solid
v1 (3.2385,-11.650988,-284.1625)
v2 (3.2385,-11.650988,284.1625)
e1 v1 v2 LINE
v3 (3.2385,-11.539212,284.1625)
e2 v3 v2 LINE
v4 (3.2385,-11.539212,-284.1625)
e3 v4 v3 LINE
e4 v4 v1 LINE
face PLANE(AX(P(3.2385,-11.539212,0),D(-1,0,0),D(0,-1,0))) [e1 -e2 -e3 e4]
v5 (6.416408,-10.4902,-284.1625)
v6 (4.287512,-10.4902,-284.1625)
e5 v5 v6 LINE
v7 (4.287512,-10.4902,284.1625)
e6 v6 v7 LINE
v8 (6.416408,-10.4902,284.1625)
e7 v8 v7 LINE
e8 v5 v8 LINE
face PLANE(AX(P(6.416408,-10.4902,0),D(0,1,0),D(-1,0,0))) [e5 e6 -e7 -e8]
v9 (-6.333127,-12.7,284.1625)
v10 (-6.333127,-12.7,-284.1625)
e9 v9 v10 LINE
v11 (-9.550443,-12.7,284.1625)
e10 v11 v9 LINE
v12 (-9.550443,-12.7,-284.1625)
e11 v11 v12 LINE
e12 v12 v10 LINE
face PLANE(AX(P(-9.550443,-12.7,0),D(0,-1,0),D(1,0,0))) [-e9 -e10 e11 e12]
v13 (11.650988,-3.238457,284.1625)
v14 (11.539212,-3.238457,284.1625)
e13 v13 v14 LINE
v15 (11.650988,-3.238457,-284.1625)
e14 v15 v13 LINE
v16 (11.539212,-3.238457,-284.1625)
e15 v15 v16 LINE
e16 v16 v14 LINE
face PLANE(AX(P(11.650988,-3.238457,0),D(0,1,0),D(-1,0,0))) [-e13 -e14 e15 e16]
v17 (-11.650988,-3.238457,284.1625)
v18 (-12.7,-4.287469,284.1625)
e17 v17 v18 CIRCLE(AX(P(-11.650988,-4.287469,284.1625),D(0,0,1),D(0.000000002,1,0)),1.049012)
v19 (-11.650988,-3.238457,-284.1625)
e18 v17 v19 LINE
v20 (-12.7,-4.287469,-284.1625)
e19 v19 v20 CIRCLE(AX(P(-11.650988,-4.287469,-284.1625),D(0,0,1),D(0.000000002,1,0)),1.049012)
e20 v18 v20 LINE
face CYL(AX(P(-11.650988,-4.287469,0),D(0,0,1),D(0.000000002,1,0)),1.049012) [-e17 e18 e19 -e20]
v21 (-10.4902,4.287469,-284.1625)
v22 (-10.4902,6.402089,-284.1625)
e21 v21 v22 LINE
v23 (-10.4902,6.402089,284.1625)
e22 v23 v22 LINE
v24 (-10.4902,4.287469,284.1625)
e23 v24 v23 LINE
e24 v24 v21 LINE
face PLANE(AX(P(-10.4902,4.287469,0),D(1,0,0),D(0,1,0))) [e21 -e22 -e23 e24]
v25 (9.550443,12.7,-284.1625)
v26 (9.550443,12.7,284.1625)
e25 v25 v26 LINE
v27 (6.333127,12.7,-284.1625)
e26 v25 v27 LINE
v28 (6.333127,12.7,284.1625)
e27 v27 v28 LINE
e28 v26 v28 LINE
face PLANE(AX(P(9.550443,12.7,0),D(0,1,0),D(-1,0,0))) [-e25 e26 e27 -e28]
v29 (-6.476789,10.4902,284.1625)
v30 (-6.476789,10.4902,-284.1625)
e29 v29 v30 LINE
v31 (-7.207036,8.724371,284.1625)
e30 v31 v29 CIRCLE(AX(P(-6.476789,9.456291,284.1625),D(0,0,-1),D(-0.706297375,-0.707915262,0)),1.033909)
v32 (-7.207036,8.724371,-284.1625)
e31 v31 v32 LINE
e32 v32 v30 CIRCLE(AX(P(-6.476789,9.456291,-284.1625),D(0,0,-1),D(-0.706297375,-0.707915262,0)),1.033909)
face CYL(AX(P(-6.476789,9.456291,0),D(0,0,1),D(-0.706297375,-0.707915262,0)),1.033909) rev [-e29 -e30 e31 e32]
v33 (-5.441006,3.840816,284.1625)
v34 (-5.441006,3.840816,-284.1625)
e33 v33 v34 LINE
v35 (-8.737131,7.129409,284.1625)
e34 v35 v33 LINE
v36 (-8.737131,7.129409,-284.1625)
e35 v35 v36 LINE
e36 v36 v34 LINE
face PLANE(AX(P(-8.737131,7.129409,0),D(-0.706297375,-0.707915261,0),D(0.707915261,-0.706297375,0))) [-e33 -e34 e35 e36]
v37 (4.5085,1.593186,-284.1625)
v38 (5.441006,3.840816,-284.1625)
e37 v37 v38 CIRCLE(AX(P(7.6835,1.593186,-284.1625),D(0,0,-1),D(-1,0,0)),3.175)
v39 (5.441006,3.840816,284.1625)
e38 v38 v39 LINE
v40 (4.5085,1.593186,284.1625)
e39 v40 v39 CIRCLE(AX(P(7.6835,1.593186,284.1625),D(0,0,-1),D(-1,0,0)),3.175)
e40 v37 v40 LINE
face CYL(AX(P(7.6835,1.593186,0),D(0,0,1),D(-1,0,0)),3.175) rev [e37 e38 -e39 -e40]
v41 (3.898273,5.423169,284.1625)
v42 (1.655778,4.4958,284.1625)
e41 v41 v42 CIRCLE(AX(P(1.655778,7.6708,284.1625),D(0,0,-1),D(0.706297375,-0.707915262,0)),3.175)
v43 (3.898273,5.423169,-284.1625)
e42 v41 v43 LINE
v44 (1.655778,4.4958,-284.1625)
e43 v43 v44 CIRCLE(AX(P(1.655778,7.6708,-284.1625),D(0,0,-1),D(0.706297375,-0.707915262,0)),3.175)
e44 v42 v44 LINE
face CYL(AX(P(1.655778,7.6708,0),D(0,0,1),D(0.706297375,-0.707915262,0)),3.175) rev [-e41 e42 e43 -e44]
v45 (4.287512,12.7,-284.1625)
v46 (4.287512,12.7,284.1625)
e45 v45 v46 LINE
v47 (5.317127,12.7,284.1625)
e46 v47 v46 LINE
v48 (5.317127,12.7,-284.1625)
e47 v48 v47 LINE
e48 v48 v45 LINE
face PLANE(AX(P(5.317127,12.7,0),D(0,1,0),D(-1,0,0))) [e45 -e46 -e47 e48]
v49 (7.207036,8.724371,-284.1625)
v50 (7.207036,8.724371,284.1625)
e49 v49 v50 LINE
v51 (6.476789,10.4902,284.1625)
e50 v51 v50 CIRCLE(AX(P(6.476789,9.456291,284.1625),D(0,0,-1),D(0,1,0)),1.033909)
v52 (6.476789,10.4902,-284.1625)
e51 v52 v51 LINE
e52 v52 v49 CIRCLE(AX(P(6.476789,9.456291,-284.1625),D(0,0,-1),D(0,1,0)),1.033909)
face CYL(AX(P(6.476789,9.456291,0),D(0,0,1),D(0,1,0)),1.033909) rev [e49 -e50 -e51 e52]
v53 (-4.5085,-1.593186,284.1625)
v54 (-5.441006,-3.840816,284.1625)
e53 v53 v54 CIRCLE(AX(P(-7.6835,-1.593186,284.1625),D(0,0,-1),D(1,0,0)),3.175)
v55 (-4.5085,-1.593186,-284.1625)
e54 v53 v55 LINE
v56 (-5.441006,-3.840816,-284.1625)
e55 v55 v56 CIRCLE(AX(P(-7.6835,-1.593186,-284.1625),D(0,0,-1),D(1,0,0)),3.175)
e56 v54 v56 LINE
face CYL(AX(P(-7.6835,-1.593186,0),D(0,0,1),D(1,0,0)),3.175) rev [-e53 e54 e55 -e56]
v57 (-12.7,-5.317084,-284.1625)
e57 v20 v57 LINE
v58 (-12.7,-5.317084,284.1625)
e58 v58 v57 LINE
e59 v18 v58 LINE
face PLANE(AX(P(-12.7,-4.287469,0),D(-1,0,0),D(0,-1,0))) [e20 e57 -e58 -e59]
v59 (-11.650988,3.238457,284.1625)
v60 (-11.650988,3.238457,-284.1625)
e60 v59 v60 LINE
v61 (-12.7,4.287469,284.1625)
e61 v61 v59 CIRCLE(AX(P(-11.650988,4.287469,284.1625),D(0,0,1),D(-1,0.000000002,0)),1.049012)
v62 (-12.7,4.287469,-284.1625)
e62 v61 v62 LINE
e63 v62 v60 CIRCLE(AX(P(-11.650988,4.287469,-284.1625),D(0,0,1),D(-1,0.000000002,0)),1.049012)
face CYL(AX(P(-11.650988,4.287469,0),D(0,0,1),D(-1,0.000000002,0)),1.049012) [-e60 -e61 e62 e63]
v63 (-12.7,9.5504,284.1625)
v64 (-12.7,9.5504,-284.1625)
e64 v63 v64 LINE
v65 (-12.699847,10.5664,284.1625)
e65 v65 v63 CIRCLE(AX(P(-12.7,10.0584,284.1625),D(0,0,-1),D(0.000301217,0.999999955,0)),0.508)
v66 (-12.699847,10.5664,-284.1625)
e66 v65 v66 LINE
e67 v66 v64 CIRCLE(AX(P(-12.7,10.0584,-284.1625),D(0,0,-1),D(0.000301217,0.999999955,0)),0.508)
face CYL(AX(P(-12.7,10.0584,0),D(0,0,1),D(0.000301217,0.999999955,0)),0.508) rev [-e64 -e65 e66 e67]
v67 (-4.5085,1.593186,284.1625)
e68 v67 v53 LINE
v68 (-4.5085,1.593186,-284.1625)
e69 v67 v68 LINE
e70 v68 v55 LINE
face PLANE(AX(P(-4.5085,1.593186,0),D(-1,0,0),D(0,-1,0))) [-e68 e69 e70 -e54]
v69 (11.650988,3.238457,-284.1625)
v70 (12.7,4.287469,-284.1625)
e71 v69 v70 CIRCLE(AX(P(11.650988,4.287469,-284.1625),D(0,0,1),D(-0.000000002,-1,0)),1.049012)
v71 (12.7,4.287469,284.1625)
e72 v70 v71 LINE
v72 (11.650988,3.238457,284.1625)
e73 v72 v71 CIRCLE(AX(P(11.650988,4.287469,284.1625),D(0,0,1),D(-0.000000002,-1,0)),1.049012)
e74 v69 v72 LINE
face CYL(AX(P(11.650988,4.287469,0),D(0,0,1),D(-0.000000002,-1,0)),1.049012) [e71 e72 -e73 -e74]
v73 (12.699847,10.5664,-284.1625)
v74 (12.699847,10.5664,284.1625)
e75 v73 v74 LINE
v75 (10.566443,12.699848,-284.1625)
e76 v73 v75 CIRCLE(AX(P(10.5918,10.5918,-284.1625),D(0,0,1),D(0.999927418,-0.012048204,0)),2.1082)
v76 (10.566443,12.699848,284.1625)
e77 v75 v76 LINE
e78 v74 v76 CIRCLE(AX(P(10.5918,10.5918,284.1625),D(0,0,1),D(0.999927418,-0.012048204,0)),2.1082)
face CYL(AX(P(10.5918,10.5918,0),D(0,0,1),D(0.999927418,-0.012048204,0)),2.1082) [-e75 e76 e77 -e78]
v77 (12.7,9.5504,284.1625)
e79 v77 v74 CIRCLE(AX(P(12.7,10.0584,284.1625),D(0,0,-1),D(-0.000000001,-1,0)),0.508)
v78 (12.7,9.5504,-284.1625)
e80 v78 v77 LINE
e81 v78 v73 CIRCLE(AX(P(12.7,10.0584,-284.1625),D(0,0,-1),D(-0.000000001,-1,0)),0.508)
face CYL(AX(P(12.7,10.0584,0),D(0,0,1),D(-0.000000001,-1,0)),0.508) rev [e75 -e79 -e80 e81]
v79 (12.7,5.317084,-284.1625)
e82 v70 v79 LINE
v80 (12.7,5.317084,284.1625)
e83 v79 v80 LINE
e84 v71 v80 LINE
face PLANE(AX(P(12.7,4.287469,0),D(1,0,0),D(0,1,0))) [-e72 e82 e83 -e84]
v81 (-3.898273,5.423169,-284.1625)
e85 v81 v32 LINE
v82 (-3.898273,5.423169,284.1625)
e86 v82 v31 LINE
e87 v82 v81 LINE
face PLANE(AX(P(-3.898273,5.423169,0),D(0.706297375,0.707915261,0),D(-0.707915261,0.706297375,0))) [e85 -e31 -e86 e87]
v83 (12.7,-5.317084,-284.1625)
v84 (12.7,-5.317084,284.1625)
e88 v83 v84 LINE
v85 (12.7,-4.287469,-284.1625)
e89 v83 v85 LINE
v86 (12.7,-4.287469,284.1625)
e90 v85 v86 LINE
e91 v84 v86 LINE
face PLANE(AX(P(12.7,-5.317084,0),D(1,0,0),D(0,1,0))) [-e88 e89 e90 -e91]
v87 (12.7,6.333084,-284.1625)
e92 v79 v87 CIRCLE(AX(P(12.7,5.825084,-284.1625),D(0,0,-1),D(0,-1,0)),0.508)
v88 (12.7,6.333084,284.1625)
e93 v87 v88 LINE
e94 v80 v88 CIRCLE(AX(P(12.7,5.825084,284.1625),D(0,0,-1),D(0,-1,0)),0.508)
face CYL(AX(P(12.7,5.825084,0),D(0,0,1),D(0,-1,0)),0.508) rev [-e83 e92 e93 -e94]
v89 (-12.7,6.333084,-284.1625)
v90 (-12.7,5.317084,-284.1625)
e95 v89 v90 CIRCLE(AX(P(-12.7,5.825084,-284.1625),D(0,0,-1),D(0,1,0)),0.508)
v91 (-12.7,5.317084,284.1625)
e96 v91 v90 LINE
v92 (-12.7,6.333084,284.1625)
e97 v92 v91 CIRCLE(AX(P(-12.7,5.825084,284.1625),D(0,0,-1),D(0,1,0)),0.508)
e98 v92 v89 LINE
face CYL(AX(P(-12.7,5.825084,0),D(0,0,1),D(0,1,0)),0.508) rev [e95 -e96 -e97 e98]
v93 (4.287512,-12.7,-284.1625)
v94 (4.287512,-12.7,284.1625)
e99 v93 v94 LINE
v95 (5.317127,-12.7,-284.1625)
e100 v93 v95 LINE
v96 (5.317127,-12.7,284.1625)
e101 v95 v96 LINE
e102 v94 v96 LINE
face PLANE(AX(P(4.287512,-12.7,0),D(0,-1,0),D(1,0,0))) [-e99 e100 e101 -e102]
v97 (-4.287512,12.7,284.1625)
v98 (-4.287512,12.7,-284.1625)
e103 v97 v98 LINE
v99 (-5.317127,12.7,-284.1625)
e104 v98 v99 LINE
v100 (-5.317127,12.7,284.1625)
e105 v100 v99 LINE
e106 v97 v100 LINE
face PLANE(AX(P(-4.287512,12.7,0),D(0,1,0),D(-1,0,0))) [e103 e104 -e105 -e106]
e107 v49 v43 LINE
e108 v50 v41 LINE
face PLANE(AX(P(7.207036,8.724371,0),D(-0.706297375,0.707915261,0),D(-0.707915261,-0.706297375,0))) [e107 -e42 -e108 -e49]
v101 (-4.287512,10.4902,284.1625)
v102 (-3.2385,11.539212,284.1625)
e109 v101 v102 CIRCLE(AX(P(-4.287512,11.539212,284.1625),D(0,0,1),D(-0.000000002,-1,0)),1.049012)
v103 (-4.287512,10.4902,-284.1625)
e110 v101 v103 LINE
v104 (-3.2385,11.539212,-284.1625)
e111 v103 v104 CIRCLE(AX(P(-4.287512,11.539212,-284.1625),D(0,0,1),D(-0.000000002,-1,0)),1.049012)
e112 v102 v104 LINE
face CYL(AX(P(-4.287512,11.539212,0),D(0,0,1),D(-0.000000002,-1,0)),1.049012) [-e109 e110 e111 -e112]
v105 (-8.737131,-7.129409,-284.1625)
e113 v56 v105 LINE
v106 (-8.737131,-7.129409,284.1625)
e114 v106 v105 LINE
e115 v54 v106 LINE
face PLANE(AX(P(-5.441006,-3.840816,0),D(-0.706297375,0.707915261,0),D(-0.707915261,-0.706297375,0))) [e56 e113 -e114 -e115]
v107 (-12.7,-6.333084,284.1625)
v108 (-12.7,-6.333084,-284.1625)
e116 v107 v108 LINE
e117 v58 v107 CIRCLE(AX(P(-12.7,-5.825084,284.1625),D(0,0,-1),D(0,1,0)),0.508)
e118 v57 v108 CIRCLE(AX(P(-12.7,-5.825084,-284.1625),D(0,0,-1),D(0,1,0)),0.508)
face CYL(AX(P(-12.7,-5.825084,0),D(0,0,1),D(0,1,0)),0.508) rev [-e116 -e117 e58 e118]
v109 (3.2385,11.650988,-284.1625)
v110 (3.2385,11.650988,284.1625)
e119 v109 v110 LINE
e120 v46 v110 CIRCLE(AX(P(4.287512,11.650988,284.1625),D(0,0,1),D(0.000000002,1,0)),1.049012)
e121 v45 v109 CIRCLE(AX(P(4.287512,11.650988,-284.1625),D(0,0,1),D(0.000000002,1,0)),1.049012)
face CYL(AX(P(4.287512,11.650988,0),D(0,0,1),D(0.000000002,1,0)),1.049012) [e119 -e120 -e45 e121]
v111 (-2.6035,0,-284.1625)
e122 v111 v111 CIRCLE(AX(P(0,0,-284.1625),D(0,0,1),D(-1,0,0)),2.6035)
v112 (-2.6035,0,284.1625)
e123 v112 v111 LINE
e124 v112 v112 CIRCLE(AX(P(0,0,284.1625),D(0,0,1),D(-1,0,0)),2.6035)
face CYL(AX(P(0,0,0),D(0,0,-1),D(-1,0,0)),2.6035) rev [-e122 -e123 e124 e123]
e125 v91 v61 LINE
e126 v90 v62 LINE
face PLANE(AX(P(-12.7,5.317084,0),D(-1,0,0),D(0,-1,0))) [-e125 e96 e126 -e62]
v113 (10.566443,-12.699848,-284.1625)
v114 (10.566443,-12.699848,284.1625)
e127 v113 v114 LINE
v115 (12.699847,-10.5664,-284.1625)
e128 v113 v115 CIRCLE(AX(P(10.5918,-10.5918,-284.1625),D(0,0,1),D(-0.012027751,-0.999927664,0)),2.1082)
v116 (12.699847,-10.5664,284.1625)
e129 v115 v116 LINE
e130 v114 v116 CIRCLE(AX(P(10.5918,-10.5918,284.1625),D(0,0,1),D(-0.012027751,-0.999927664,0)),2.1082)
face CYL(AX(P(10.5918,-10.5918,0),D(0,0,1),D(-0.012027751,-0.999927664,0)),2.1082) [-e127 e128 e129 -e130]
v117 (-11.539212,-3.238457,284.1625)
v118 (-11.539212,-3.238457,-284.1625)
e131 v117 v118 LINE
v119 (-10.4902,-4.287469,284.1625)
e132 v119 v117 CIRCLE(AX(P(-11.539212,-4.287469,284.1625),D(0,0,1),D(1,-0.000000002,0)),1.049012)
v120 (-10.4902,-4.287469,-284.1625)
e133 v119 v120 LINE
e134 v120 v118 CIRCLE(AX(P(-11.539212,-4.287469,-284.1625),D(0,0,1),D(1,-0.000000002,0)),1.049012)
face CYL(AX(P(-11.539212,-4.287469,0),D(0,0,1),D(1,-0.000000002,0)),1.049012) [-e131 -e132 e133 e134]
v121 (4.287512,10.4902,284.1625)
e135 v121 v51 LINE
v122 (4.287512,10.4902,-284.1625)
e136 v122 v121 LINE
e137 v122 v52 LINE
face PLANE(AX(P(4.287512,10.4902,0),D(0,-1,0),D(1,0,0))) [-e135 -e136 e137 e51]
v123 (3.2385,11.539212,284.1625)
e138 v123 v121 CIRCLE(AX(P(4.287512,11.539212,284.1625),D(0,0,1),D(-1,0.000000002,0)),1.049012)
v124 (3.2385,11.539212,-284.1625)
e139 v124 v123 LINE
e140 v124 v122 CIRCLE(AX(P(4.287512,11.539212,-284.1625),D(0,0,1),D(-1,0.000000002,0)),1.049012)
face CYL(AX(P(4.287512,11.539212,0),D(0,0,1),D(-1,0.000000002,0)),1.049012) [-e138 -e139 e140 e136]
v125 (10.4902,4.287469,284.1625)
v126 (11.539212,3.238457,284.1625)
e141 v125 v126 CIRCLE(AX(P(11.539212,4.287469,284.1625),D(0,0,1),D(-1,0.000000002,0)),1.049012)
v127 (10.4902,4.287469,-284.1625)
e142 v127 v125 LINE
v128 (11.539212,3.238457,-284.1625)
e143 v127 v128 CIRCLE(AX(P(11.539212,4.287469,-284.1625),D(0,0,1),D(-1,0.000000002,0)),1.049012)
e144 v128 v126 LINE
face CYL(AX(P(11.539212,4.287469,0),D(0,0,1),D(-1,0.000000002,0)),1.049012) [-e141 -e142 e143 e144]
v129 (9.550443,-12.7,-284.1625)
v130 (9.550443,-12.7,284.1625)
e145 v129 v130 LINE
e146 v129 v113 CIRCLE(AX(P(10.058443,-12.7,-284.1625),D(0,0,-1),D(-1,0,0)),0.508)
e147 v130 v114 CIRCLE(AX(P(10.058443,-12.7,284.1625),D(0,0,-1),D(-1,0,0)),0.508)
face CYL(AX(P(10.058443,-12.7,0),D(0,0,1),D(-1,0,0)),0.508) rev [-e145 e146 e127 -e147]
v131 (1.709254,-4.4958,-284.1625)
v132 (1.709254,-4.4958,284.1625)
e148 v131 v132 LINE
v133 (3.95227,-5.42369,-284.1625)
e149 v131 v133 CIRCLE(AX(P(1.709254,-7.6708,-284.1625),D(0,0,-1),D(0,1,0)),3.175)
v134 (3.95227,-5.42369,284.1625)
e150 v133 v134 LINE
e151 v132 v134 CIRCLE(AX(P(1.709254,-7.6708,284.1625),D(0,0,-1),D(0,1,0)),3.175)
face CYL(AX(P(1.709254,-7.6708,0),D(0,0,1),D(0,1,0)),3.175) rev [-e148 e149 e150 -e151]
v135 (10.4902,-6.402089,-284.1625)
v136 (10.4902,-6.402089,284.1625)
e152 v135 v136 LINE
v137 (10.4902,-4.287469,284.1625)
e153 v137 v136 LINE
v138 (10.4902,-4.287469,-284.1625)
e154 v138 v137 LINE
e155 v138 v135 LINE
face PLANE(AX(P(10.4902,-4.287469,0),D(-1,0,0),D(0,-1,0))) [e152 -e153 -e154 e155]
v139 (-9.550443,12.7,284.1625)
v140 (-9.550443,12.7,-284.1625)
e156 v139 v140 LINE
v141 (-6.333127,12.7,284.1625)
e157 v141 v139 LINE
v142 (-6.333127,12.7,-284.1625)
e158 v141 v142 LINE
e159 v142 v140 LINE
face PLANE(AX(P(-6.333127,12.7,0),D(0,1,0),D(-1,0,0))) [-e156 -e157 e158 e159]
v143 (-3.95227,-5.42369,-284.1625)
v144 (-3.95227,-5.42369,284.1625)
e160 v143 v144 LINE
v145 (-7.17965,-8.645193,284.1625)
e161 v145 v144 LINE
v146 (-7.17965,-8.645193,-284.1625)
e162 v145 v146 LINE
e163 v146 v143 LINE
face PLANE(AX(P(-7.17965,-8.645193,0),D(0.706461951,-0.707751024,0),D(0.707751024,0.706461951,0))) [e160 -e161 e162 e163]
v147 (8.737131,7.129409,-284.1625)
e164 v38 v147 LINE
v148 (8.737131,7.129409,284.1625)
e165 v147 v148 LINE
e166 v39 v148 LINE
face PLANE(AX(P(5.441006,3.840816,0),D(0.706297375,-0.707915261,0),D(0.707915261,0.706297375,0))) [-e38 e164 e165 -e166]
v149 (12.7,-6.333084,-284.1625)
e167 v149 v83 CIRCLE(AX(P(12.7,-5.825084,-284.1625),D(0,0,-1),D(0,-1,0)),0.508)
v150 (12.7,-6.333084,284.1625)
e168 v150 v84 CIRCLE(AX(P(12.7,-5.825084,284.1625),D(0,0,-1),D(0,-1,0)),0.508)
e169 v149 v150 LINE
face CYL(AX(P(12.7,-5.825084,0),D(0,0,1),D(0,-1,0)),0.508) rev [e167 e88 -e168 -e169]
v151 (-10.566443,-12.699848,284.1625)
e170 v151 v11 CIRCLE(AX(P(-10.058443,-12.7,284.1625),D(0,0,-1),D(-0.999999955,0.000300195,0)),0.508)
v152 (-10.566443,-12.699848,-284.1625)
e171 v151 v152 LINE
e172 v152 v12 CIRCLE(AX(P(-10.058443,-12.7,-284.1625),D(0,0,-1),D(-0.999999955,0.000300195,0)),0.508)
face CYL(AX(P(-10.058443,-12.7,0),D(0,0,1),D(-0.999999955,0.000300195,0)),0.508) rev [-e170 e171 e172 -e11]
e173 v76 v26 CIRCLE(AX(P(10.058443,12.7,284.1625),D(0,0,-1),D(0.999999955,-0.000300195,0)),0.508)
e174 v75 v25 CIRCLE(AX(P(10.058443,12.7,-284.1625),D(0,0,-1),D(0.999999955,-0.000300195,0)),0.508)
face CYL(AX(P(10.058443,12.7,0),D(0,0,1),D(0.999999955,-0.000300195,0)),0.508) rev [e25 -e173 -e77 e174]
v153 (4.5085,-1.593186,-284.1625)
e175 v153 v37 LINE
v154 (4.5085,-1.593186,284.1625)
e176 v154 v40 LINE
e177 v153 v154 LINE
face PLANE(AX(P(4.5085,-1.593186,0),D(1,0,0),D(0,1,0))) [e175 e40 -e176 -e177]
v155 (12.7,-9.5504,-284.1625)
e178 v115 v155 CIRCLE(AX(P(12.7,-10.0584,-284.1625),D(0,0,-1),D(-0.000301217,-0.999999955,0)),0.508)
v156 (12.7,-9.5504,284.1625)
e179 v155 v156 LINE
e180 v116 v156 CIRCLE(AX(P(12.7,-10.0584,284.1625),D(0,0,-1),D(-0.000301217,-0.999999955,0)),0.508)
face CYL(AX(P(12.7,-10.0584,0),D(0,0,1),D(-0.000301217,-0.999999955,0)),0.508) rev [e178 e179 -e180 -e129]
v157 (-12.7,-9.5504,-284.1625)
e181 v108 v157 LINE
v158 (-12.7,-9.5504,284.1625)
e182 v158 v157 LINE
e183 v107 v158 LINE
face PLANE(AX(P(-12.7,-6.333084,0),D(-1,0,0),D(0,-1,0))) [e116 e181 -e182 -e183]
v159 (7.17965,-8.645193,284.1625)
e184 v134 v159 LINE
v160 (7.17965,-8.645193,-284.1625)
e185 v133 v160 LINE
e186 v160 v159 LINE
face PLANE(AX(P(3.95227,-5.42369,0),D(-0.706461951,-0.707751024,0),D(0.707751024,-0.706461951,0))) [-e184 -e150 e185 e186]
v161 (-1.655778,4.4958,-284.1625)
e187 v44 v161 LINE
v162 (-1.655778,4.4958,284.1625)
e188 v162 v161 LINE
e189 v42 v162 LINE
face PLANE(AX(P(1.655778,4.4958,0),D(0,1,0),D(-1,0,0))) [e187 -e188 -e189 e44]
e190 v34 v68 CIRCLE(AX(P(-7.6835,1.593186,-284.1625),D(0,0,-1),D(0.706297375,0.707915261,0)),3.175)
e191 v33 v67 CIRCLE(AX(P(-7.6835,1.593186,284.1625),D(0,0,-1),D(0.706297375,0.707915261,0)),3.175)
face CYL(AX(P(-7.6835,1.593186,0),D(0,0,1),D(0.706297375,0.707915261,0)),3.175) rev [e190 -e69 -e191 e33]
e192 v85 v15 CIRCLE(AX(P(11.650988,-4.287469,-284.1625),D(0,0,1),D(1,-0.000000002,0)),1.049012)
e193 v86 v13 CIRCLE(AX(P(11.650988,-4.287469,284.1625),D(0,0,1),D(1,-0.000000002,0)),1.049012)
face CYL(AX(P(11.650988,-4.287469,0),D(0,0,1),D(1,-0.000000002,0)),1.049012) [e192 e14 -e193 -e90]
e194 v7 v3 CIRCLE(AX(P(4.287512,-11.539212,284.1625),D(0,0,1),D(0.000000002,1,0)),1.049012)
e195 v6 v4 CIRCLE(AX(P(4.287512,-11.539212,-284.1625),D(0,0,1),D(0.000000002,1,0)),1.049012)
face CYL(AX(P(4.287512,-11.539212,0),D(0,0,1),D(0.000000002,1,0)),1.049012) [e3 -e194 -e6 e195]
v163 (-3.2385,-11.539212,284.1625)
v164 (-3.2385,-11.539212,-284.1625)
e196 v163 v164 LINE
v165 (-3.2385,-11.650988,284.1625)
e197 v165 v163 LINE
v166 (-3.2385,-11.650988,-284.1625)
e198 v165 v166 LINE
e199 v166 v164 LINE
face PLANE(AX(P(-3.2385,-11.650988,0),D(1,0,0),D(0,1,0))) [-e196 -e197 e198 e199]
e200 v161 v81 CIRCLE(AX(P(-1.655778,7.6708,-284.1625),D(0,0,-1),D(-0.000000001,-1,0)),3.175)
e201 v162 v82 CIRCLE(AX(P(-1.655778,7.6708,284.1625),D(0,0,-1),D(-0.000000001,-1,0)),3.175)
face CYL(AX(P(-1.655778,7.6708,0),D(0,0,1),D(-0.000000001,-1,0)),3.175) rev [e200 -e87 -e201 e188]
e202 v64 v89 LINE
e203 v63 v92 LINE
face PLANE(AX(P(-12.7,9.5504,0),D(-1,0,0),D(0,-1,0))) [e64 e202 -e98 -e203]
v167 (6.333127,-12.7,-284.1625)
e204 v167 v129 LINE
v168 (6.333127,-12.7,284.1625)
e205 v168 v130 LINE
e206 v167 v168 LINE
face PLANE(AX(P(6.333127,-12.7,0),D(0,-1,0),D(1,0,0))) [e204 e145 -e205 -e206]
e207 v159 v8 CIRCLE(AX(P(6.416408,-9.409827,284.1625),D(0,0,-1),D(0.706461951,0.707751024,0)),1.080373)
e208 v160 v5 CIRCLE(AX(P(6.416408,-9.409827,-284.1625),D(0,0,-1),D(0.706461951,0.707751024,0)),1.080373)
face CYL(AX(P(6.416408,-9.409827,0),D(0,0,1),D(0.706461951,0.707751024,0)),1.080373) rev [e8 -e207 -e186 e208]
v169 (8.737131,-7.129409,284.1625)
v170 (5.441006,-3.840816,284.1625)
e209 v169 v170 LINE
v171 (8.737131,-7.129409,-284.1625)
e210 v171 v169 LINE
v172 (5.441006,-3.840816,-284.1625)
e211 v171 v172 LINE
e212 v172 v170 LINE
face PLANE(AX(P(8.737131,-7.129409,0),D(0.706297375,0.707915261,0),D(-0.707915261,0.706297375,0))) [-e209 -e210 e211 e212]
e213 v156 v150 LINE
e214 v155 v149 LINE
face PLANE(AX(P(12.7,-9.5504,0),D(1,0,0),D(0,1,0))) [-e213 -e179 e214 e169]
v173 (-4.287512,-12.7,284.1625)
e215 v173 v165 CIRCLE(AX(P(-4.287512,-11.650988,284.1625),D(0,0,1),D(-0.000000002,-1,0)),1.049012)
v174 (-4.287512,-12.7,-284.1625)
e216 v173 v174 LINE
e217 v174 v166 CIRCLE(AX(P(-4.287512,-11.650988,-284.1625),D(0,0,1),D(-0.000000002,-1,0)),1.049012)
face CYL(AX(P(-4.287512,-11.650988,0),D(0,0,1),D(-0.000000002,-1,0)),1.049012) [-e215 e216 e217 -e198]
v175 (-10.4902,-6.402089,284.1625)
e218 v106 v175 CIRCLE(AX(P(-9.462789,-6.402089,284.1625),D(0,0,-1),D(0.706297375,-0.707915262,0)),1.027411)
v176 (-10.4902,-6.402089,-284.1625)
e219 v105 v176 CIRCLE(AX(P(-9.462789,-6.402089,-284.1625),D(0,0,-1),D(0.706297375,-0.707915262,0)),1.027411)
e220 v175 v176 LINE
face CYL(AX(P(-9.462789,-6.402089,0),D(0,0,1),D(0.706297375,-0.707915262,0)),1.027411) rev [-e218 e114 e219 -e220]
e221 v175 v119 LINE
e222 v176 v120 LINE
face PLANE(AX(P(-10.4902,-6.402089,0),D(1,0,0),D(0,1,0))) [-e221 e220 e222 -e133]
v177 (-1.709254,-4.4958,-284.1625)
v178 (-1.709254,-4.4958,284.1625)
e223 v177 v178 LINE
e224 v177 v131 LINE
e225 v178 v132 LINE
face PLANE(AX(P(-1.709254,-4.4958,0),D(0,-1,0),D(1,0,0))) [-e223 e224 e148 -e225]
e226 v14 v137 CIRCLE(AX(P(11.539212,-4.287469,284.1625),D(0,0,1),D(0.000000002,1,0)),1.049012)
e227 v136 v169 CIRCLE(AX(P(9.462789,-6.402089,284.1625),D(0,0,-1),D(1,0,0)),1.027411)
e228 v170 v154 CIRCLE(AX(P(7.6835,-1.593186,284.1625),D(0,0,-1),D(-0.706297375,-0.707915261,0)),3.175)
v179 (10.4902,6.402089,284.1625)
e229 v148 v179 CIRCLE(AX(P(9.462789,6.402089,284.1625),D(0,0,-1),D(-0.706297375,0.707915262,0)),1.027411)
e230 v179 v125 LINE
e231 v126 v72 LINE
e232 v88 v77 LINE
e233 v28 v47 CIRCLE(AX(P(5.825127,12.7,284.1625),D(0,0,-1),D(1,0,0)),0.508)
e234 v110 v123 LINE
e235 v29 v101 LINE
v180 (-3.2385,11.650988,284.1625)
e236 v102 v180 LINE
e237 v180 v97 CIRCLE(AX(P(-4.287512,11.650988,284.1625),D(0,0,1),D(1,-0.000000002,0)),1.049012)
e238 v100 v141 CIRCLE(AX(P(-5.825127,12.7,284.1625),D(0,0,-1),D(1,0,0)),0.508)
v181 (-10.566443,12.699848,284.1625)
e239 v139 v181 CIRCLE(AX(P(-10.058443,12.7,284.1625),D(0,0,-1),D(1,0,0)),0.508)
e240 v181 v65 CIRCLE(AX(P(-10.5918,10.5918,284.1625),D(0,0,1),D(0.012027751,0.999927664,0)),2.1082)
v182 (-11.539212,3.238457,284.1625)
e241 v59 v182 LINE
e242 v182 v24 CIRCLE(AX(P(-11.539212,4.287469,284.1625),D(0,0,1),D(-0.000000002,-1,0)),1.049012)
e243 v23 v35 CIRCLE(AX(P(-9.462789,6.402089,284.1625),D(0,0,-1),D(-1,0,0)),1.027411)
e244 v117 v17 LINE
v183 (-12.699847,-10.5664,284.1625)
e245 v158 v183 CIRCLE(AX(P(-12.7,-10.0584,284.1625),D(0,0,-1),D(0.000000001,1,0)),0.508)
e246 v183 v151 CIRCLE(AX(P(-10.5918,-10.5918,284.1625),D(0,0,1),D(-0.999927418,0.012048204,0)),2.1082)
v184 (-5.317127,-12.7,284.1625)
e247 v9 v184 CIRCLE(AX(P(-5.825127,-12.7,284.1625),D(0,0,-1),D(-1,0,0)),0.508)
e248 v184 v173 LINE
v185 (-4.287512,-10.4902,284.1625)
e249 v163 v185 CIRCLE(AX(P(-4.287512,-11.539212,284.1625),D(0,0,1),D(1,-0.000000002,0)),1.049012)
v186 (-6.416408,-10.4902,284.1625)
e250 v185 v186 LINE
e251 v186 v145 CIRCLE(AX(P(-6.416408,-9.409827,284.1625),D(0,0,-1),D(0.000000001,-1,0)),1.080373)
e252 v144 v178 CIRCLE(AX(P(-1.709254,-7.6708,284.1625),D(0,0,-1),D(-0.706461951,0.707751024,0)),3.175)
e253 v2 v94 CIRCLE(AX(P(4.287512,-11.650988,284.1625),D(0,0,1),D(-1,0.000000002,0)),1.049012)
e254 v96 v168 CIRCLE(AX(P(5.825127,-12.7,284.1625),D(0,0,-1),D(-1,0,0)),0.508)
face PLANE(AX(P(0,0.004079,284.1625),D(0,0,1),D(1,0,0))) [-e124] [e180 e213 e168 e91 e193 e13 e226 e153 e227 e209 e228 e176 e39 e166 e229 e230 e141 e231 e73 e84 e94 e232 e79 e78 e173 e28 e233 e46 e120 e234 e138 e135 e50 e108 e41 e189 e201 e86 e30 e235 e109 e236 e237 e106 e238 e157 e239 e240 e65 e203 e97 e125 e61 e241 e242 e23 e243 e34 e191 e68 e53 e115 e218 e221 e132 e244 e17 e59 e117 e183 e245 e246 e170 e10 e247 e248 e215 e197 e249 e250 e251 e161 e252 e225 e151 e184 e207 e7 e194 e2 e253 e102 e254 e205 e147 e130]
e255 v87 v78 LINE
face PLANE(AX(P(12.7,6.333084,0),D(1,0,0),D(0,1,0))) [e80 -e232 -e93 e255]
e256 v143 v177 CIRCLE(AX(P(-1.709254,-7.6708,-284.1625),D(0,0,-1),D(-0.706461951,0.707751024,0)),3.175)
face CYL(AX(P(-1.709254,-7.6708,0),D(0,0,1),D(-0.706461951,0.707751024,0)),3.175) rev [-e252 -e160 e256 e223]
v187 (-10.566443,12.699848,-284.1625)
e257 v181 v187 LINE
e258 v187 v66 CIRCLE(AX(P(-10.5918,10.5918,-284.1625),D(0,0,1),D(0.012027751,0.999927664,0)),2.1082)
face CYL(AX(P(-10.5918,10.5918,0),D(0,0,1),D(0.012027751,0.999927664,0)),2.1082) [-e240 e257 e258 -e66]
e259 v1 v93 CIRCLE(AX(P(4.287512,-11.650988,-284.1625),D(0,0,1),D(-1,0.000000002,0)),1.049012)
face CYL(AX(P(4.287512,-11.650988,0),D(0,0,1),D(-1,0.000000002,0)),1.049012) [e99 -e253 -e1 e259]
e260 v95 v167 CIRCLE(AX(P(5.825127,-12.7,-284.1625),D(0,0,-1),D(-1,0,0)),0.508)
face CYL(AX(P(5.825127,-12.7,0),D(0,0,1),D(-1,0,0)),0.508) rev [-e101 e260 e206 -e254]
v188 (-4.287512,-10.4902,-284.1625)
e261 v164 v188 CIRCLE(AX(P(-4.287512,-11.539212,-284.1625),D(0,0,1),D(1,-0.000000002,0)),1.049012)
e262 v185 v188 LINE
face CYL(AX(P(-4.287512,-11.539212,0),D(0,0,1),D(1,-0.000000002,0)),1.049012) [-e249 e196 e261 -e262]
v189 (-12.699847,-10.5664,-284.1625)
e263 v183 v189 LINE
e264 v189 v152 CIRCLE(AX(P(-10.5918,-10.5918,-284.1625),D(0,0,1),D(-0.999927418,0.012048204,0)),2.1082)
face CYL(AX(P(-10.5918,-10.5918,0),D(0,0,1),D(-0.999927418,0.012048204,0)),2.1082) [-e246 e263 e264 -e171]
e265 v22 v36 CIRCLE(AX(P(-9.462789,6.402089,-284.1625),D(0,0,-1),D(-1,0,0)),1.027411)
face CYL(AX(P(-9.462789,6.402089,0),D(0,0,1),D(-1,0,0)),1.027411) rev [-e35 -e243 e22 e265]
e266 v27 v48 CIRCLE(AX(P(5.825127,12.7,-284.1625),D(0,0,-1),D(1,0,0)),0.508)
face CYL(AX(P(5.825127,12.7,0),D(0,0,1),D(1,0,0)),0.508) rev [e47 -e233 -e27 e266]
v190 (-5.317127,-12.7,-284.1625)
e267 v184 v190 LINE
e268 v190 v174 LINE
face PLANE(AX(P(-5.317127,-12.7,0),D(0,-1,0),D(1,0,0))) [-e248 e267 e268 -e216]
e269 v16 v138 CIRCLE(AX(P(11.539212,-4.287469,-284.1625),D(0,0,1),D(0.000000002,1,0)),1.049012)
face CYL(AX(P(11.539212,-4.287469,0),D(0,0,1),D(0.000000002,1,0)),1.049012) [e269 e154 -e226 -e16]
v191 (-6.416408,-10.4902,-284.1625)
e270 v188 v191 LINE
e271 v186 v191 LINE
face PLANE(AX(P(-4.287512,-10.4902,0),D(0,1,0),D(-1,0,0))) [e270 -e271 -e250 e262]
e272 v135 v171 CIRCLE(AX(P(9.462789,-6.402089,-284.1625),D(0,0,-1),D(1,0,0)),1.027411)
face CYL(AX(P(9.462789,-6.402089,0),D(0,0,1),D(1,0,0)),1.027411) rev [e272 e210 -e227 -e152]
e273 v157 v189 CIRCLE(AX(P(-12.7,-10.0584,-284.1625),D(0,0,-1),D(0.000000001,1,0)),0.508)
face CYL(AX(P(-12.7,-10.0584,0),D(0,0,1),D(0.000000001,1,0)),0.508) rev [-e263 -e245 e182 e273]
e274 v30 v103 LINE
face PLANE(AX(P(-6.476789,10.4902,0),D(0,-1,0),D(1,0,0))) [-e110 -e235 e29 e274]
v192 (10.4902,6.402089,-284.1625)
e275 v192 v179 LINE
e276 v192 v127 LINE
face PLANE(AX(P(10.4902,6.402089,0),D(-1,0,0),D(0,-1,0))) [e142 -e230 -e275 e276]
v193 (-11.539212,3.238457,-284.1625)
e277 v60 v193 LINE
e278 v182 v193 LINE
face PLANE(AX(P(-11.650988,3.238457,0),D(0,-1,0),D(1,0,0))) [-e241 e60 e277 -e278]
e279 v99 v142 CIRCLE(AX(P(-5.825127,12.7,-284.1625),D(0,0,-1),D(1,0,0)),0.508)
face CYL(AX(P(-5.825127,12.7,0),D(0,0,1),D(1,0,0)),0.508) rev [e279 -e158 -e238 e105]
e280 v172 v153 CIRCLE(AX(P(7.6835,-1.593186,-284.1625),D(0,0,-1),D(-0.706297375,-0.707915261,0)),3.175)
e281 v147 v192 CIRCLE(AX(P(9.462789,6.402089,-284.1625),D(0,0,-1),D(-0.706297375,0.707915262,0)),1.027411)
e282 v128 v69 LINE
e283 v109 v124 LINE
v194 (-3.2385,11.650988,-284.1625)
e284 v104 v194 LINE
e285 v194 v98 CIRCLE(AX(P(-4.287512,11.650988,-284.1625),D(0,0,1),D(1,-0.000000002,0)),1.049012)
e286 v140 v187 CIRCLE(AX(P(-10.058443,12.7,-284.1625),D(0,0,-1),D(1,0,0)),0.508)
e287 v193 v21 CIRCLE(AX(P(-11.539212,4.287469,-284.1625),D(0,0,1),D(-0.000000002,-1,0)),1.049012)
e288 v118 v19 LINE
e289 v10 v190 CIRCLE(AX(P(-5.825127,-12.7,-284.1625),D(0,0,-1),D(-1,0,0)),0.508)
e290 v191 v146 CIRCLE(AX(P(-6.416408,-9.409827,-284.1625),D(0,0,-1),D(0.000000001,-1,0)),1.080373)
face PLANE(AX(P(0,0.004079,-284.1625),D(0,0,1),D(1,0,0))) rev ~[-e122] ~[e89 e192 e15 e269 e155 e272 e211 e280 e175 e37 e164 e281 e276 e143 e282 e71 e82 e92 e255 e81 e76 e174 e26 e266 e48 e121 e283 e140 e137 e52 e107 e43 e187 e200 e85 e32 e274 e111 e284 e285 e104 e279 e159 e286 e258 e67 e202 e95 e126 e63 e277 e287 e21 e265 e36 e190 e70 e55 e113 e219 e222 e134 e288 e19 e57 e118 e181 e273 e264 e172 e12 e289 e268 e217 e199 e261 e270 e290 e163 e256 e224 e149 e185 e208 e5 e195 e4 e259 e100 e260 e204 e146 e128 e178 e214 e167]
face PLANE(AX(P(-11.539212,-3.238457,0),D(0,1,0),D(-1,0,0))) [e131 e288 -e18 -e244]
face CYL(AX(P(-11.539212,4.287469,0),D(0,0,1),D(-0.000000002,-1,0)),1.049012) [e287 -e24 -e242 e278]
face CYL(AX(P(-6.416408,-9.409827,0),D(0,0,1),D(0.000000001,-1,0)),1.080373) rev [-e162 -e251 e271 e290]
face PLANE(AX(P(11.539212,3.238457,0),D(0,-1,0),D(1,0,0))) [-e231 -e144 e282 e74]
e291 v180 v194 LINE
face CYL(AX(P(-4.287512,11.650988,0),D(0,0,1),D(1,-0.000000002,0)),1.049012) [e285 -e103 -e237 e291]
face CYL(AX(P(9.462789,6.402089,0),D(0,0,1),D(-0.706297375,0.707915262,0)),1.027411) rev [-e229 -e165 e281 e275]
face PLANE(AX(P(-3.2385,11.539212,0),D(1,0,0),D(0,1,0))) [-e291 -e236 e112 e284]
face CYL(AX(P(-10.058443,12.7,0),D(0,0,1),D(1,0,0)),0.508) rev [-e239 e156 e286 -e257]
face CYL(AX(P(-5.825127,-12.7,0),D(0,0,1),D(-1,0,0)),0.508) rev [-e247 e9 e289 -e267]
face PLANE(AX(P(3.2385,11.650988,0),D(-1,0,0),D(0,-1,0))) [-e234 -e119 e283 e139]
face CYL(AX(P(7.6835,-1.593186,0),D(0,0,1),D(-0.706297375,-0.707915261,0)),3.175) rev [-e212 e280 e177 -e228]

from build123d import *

# Parameters (mm, degrees)
SKETCH1_R           = 2.6035
BOSS_EXTRUDE1_DEPTH = 284.1625


with BuildPart() as part:
    # Sketch1 → Boss-Extrude1 (new, symmetric)
    with BuildSketch(Plane.XY):
        with BuildLine():
            Line((-7.179650497, -8.645192506), (-3.952270251, -5.423690499))
            ThreePointArc((-3.952270251, -5.423690499), (-2.922936451, -4.736929036), (-1.709253557, -4.4958))
            Line((-1.709253557, -4.4958), (1.709253557, -4.4958))
            ThreePointArc((1.709253557, -4.4958), (2.922936451, -4.736929036), (3.952270251, -5.423690499))
            Line((3.952270251, -5.423690499), (7.179650497, -8.645192506))
            ThreePointArc((7.179650497, -8.645192506), (7.41473083, -9.822813117), (6.416408329, -10.4902))
            Line((6.416408329, -10.4902), (4.287512407, -10.4902))
            ThreePointArc((4.287512407, -10.4902), (3.54574862, -10.79744862), (3.2385, -11.539212407))
            Line((3.2385, -11.539212407), (3.2385, -11.650987593))
            ThreePointArc((3.2385, -11.650987593), (3.54574862, -12.39275138), (4.287512407, -12.7))
            Line((4.287512407, -12.7), (5.317126718, -12.7))
            ThreePointArc((5.317126718, -12.7), (5.825126718, -12.192), (6.333126718, -12.7))
            Line((6.333126718, -12.7), (9.550443118, -12.7))
            ThreePointArc((9.550443118, -12.7), (10.058366869, -12.192000006), (10.566443095, -12.699847501))
            ThreePointArc((10.566443095, -12.699847501), (12.082537762, -12.08250727), (12.699846982, -10.566399977))
            ThreePointArc((12.699846982, -10.566399977), (12.192000006, -10.058323491), (12.7, -9.5504))
            Line((12.7, -9.5504), (12.7, -6.3330836))
            ThreePointArc((12.7, -6.3330836), (12.192, -5.8250836), (12.7, -5.3170836))
            Line((12.7, -5.3170836), (12.7, -4.287469289))
            ThreePointArc((12.7, -4.287469289), (12.39275138, -3.545705502), (11.650987593, -3.238456882))
            Line((11.650987593, -3.238456882), (11.539212407, -3.238456882))
            ThreePointArc((11.539212407, -3.238456882), (10.79744862, -3.545705502), (10.4902, -4.287469289))
            Line((10.4902, -4.287469289), (10.4902, -6.402089023))
            ThreePointArc((10.4902, -6.402089023), (9.856505071, -7.351067942), (8.737131347, -7.129408934))
            Line((8.737131347, -7.129408934), (5.441005833, -3.840816462))
            ThreePointArc((5.441005833, -3.840816462), (4.750877967, -2.809883091), (4.5085, -1.593185507))
            Line((4.5085, -1.593185507), (4.5085, 1.593185507))
            ThreePointArc((4.5085, 1.593185507), (4.750877967, 2.809883091), (5.441005833, 3.840816462))
            Line((5.441005833, 3.840816462), (8.737131347, 7.129408934))
            ThreePointArc((8.737131347, 7.129408934), (9.856505071, 7.351067942), (10.4902, 6.402089023))
            Line((10.4902, 6.402089023), (10.4902, 4.287469289))
            ThreePointArc((10.4902, 4.287469289), (10.79744862, 3.545705502), (11.539212407, 3.238456882))
            Line((11.539212407, 3.238456882), (11.650987593, 3.238456882))
            ThreePointArc((11.650987593, 3.238456882), (12.39275138, 3.545705502), (12.7, 4.287469289))
            Line((12.7, 4.287469289), (12.7, 5.3170836))
            ThreePointArc((12.7, 5.3170836), (12.192, 5.8250836), (12.7, 6.3330836))
            Line((12.7, 6.3330836), (12.7, 9.5504))
            ThreePointArc((12.7, 9.5504), (12.192000006, 10.058323491), (12.699846982, 10.566399977))
            ThreePointArc((12.699846982, 10.566399977), (12.082537762, 12.08250727), (10.566443095, 12.699847501))
            ThreePointArc((10.566443095, 12.699847501), (10.058366869, 12.192000006), (9.550443118, 12.7))
            Line((9.550443118, 12.7), (6.333126718, 12.7))
            ThreePointArc((6.333126718, 12.7), (5.825126718, 12.192), (5.317126718, 12.7))
            Line((5.317126718, 12.7), (4.287512407, 12.7))
            ThreePointArc((4.287512407, 12.7), (3.54574862, 12.39275138), (3.2385, 11.650987593))
            Line((3.2385, 11.650987593), (3.2385, 11.539212407))
            ThreePointArc((3.2385, 11.539212407), (3.54574862, 10.79744862), (4.287512407, 10.4902))
            Line((4.287512407, 10.4902), (6.476788598, 10.4902))
            ThreePointArc((6.476788598, 10.4902), (7.432222385, 9.85140422), (7.207036008, 8.724370562))
            Line((7.207036008, 8.724370562), (3.898272566, 5.423169045))
            ThreePointArc((3.898272566, 5.423169045), (2.869120213, 4.736787962), (1.655778399, 4.4958))
            Line((1.655778399, 4.4958), (-1.655778399, 4.4958))
            ThreePointArc((-1.655778399, 4.4958), (-2.869120213, 4.736787962), (-3.898272566, 5.423169045))
            Line((-3.898272566, 5.423169045), (-7.207036008, 8.724370562))
            ThreePointArc((-7.207036008, 8.724370562), (-7.432222385, 9.85140422), (-6.476788598, 10.4902))
            Line((-6.476788598, 10.4902), (-4.287512407, 10.4902))
            ThreePointArc((-4.287512407, 10.4902), (-3.54574862, 10.79744862), (-3.2385, 11.539212407))
            Line((-3.2385, 11.539212407), (-3.2385, 11.650987593))
            ThreePointArc((-3.2385, 11.650987593), (-3.54574862, 12.39275138), (-4.287512407, 12.7))
            Line((-4.287512407, 12.7), (-5.317126718, 12.7))
            ThreePointArc((-5.317126718, 12.7), (-5.825126718, 12.192), (-6.333126718, 12.7))
            Line((-6.333126718, 12.7), (-9.550443118, 12.7))
            ThreePointArc((-9.550443118, 12.7), (-10.058366869, 12.192000006), (-10.566443095, 12.699847501))
            ThreePointArc((-10.566443095, 12.699847501), (-12.082537762, 12.08250727), (-12.699846982, 10.566399977))
            ThreePointArc((-12.699846982, 10.566399977), (-12.192000006, 10.058323491), (-12.7, 9.5504))
            Line((-12.7, 9.5504), (-12.7, 6.3330836))
            ThreePointArc((-12.7, 6.3330836), (-12.192, 5.8250836), (-12.7, 5.3170836))
            Line((-12.7, 5.3170836), (-12.7, 4.287469289))
            ThreePointArc((-12.7, 4.287469289), (-12.39275138, 3.545705502), (-11.650987593, 3.238456882))
            Line((-11.650987593, 3.238456882), (-11.539212407, 3.238456882))
            ThreePointArc((-11.539212407, 3.238456882), (-10.79744862, 3.545705502), (-10.4902, 4.287469289))
            Line((-10.4902, 4.287469289), (-10.4902, 6.402089023))
            ThreePointArc((-10.4902, 6.402089023), (-9.856505071, 7.351067942), (-8.737131347, 7.129408934))
            Line((-8.737131347, 7.129408934), (-5.441005833, 3.840816462))
            ThreePointArc((-5.441005833, 3.840816462), (-4.750877967, 2.809883091), (-4.5085, 1.593185507))
            Line((-4.5085, 1.593185507), (-4.5085, -1.593185507))
            ThreePointArc((-4.5085, -1.593185507), (-4.750877967, -2.809883091), (-5.441005833, -3.840816462))
            Line((-5.441005833, -3.840816462), (-8.737131347, -7.129408934))
            ThreePointArc((-8.737131347, -7.129408934), (-9.856505071, -7.351067942), (-10.4902, -6.402089023))
            Line((-10.4902, -6.402089023), (-10.4902, -4.287469289))
            ThreePointArc((-10.4902, -4.287469289), (-10.79744862, -3.545705502), (-11.539212407, -3.238456882))
            Line((-11.539212407, -3.238456882), (-11.650987593, -3.238456882))
            ThreePointArc((-11.650987593, -3.238456882), (-12.39275138, -3.545705502), (-12.7, -4.287469289))
            Line((-12.7, -4.287469289), (-12.7, -5.3170836))
            ThreePointArc((-12.7, -5.3170836), (-12.192, -5.8250836), (-12.7, -6.3330836))
            Line((-12.7, -6.3330836), (-12.7, -9.5504))
            ThreePointArc((-12.7, -9.5504), (-12.192000006, -10.058323491), (-12.699846982, -10.566399977))
            ThreePointArc((-12.699846982, -10.566399977), (-12.082537762, -12.08250727), (-10.566443095, -12.699847501))
            ThreePointArc((-10.566443095, -12.699847501), (-10.058366869, -12.192000006), (-9.550443118, -12.7))
            Line((-9.550443118, -12.7), (-6.333126718, -12.7))
            ThreePointArc((-6.333126718, -12.7), (-5.825126718, -12.192), (-5.317126718, -12.7))
            Line((-5.317126718, -12.7), (-4.287512407, -12.7))
            ThreePointArc((-4.287512407, -12.7), (-3.54574862, -12.39275138), (-3.2385, -11.650987593))
            Line((-3.2385, -11.650987593), (-3.2385, -11.539212407))
            ThreePointArc((-3.2385, -11.539212407), (-3.54574862, -10.79744862), (-4.287512407, -10.4902))
            Line((-4.287512407, -10.4902), (-6.416408329, -10.4902))
            ThreePointArc((-6.416408329, -10.4902), (-7.41473083, -9.822813117), (-7.179650497, -8.645192506))
        make_face()
        with Locations(Location((0, 0, 0), (0, 0, 180))):
            Circle(SKETCH1_R, mode=Mode.SUBTRACT)
    extrude(amount=BOSS_EXTRUDE1_DEPTH, both=True)


solid = part.part
